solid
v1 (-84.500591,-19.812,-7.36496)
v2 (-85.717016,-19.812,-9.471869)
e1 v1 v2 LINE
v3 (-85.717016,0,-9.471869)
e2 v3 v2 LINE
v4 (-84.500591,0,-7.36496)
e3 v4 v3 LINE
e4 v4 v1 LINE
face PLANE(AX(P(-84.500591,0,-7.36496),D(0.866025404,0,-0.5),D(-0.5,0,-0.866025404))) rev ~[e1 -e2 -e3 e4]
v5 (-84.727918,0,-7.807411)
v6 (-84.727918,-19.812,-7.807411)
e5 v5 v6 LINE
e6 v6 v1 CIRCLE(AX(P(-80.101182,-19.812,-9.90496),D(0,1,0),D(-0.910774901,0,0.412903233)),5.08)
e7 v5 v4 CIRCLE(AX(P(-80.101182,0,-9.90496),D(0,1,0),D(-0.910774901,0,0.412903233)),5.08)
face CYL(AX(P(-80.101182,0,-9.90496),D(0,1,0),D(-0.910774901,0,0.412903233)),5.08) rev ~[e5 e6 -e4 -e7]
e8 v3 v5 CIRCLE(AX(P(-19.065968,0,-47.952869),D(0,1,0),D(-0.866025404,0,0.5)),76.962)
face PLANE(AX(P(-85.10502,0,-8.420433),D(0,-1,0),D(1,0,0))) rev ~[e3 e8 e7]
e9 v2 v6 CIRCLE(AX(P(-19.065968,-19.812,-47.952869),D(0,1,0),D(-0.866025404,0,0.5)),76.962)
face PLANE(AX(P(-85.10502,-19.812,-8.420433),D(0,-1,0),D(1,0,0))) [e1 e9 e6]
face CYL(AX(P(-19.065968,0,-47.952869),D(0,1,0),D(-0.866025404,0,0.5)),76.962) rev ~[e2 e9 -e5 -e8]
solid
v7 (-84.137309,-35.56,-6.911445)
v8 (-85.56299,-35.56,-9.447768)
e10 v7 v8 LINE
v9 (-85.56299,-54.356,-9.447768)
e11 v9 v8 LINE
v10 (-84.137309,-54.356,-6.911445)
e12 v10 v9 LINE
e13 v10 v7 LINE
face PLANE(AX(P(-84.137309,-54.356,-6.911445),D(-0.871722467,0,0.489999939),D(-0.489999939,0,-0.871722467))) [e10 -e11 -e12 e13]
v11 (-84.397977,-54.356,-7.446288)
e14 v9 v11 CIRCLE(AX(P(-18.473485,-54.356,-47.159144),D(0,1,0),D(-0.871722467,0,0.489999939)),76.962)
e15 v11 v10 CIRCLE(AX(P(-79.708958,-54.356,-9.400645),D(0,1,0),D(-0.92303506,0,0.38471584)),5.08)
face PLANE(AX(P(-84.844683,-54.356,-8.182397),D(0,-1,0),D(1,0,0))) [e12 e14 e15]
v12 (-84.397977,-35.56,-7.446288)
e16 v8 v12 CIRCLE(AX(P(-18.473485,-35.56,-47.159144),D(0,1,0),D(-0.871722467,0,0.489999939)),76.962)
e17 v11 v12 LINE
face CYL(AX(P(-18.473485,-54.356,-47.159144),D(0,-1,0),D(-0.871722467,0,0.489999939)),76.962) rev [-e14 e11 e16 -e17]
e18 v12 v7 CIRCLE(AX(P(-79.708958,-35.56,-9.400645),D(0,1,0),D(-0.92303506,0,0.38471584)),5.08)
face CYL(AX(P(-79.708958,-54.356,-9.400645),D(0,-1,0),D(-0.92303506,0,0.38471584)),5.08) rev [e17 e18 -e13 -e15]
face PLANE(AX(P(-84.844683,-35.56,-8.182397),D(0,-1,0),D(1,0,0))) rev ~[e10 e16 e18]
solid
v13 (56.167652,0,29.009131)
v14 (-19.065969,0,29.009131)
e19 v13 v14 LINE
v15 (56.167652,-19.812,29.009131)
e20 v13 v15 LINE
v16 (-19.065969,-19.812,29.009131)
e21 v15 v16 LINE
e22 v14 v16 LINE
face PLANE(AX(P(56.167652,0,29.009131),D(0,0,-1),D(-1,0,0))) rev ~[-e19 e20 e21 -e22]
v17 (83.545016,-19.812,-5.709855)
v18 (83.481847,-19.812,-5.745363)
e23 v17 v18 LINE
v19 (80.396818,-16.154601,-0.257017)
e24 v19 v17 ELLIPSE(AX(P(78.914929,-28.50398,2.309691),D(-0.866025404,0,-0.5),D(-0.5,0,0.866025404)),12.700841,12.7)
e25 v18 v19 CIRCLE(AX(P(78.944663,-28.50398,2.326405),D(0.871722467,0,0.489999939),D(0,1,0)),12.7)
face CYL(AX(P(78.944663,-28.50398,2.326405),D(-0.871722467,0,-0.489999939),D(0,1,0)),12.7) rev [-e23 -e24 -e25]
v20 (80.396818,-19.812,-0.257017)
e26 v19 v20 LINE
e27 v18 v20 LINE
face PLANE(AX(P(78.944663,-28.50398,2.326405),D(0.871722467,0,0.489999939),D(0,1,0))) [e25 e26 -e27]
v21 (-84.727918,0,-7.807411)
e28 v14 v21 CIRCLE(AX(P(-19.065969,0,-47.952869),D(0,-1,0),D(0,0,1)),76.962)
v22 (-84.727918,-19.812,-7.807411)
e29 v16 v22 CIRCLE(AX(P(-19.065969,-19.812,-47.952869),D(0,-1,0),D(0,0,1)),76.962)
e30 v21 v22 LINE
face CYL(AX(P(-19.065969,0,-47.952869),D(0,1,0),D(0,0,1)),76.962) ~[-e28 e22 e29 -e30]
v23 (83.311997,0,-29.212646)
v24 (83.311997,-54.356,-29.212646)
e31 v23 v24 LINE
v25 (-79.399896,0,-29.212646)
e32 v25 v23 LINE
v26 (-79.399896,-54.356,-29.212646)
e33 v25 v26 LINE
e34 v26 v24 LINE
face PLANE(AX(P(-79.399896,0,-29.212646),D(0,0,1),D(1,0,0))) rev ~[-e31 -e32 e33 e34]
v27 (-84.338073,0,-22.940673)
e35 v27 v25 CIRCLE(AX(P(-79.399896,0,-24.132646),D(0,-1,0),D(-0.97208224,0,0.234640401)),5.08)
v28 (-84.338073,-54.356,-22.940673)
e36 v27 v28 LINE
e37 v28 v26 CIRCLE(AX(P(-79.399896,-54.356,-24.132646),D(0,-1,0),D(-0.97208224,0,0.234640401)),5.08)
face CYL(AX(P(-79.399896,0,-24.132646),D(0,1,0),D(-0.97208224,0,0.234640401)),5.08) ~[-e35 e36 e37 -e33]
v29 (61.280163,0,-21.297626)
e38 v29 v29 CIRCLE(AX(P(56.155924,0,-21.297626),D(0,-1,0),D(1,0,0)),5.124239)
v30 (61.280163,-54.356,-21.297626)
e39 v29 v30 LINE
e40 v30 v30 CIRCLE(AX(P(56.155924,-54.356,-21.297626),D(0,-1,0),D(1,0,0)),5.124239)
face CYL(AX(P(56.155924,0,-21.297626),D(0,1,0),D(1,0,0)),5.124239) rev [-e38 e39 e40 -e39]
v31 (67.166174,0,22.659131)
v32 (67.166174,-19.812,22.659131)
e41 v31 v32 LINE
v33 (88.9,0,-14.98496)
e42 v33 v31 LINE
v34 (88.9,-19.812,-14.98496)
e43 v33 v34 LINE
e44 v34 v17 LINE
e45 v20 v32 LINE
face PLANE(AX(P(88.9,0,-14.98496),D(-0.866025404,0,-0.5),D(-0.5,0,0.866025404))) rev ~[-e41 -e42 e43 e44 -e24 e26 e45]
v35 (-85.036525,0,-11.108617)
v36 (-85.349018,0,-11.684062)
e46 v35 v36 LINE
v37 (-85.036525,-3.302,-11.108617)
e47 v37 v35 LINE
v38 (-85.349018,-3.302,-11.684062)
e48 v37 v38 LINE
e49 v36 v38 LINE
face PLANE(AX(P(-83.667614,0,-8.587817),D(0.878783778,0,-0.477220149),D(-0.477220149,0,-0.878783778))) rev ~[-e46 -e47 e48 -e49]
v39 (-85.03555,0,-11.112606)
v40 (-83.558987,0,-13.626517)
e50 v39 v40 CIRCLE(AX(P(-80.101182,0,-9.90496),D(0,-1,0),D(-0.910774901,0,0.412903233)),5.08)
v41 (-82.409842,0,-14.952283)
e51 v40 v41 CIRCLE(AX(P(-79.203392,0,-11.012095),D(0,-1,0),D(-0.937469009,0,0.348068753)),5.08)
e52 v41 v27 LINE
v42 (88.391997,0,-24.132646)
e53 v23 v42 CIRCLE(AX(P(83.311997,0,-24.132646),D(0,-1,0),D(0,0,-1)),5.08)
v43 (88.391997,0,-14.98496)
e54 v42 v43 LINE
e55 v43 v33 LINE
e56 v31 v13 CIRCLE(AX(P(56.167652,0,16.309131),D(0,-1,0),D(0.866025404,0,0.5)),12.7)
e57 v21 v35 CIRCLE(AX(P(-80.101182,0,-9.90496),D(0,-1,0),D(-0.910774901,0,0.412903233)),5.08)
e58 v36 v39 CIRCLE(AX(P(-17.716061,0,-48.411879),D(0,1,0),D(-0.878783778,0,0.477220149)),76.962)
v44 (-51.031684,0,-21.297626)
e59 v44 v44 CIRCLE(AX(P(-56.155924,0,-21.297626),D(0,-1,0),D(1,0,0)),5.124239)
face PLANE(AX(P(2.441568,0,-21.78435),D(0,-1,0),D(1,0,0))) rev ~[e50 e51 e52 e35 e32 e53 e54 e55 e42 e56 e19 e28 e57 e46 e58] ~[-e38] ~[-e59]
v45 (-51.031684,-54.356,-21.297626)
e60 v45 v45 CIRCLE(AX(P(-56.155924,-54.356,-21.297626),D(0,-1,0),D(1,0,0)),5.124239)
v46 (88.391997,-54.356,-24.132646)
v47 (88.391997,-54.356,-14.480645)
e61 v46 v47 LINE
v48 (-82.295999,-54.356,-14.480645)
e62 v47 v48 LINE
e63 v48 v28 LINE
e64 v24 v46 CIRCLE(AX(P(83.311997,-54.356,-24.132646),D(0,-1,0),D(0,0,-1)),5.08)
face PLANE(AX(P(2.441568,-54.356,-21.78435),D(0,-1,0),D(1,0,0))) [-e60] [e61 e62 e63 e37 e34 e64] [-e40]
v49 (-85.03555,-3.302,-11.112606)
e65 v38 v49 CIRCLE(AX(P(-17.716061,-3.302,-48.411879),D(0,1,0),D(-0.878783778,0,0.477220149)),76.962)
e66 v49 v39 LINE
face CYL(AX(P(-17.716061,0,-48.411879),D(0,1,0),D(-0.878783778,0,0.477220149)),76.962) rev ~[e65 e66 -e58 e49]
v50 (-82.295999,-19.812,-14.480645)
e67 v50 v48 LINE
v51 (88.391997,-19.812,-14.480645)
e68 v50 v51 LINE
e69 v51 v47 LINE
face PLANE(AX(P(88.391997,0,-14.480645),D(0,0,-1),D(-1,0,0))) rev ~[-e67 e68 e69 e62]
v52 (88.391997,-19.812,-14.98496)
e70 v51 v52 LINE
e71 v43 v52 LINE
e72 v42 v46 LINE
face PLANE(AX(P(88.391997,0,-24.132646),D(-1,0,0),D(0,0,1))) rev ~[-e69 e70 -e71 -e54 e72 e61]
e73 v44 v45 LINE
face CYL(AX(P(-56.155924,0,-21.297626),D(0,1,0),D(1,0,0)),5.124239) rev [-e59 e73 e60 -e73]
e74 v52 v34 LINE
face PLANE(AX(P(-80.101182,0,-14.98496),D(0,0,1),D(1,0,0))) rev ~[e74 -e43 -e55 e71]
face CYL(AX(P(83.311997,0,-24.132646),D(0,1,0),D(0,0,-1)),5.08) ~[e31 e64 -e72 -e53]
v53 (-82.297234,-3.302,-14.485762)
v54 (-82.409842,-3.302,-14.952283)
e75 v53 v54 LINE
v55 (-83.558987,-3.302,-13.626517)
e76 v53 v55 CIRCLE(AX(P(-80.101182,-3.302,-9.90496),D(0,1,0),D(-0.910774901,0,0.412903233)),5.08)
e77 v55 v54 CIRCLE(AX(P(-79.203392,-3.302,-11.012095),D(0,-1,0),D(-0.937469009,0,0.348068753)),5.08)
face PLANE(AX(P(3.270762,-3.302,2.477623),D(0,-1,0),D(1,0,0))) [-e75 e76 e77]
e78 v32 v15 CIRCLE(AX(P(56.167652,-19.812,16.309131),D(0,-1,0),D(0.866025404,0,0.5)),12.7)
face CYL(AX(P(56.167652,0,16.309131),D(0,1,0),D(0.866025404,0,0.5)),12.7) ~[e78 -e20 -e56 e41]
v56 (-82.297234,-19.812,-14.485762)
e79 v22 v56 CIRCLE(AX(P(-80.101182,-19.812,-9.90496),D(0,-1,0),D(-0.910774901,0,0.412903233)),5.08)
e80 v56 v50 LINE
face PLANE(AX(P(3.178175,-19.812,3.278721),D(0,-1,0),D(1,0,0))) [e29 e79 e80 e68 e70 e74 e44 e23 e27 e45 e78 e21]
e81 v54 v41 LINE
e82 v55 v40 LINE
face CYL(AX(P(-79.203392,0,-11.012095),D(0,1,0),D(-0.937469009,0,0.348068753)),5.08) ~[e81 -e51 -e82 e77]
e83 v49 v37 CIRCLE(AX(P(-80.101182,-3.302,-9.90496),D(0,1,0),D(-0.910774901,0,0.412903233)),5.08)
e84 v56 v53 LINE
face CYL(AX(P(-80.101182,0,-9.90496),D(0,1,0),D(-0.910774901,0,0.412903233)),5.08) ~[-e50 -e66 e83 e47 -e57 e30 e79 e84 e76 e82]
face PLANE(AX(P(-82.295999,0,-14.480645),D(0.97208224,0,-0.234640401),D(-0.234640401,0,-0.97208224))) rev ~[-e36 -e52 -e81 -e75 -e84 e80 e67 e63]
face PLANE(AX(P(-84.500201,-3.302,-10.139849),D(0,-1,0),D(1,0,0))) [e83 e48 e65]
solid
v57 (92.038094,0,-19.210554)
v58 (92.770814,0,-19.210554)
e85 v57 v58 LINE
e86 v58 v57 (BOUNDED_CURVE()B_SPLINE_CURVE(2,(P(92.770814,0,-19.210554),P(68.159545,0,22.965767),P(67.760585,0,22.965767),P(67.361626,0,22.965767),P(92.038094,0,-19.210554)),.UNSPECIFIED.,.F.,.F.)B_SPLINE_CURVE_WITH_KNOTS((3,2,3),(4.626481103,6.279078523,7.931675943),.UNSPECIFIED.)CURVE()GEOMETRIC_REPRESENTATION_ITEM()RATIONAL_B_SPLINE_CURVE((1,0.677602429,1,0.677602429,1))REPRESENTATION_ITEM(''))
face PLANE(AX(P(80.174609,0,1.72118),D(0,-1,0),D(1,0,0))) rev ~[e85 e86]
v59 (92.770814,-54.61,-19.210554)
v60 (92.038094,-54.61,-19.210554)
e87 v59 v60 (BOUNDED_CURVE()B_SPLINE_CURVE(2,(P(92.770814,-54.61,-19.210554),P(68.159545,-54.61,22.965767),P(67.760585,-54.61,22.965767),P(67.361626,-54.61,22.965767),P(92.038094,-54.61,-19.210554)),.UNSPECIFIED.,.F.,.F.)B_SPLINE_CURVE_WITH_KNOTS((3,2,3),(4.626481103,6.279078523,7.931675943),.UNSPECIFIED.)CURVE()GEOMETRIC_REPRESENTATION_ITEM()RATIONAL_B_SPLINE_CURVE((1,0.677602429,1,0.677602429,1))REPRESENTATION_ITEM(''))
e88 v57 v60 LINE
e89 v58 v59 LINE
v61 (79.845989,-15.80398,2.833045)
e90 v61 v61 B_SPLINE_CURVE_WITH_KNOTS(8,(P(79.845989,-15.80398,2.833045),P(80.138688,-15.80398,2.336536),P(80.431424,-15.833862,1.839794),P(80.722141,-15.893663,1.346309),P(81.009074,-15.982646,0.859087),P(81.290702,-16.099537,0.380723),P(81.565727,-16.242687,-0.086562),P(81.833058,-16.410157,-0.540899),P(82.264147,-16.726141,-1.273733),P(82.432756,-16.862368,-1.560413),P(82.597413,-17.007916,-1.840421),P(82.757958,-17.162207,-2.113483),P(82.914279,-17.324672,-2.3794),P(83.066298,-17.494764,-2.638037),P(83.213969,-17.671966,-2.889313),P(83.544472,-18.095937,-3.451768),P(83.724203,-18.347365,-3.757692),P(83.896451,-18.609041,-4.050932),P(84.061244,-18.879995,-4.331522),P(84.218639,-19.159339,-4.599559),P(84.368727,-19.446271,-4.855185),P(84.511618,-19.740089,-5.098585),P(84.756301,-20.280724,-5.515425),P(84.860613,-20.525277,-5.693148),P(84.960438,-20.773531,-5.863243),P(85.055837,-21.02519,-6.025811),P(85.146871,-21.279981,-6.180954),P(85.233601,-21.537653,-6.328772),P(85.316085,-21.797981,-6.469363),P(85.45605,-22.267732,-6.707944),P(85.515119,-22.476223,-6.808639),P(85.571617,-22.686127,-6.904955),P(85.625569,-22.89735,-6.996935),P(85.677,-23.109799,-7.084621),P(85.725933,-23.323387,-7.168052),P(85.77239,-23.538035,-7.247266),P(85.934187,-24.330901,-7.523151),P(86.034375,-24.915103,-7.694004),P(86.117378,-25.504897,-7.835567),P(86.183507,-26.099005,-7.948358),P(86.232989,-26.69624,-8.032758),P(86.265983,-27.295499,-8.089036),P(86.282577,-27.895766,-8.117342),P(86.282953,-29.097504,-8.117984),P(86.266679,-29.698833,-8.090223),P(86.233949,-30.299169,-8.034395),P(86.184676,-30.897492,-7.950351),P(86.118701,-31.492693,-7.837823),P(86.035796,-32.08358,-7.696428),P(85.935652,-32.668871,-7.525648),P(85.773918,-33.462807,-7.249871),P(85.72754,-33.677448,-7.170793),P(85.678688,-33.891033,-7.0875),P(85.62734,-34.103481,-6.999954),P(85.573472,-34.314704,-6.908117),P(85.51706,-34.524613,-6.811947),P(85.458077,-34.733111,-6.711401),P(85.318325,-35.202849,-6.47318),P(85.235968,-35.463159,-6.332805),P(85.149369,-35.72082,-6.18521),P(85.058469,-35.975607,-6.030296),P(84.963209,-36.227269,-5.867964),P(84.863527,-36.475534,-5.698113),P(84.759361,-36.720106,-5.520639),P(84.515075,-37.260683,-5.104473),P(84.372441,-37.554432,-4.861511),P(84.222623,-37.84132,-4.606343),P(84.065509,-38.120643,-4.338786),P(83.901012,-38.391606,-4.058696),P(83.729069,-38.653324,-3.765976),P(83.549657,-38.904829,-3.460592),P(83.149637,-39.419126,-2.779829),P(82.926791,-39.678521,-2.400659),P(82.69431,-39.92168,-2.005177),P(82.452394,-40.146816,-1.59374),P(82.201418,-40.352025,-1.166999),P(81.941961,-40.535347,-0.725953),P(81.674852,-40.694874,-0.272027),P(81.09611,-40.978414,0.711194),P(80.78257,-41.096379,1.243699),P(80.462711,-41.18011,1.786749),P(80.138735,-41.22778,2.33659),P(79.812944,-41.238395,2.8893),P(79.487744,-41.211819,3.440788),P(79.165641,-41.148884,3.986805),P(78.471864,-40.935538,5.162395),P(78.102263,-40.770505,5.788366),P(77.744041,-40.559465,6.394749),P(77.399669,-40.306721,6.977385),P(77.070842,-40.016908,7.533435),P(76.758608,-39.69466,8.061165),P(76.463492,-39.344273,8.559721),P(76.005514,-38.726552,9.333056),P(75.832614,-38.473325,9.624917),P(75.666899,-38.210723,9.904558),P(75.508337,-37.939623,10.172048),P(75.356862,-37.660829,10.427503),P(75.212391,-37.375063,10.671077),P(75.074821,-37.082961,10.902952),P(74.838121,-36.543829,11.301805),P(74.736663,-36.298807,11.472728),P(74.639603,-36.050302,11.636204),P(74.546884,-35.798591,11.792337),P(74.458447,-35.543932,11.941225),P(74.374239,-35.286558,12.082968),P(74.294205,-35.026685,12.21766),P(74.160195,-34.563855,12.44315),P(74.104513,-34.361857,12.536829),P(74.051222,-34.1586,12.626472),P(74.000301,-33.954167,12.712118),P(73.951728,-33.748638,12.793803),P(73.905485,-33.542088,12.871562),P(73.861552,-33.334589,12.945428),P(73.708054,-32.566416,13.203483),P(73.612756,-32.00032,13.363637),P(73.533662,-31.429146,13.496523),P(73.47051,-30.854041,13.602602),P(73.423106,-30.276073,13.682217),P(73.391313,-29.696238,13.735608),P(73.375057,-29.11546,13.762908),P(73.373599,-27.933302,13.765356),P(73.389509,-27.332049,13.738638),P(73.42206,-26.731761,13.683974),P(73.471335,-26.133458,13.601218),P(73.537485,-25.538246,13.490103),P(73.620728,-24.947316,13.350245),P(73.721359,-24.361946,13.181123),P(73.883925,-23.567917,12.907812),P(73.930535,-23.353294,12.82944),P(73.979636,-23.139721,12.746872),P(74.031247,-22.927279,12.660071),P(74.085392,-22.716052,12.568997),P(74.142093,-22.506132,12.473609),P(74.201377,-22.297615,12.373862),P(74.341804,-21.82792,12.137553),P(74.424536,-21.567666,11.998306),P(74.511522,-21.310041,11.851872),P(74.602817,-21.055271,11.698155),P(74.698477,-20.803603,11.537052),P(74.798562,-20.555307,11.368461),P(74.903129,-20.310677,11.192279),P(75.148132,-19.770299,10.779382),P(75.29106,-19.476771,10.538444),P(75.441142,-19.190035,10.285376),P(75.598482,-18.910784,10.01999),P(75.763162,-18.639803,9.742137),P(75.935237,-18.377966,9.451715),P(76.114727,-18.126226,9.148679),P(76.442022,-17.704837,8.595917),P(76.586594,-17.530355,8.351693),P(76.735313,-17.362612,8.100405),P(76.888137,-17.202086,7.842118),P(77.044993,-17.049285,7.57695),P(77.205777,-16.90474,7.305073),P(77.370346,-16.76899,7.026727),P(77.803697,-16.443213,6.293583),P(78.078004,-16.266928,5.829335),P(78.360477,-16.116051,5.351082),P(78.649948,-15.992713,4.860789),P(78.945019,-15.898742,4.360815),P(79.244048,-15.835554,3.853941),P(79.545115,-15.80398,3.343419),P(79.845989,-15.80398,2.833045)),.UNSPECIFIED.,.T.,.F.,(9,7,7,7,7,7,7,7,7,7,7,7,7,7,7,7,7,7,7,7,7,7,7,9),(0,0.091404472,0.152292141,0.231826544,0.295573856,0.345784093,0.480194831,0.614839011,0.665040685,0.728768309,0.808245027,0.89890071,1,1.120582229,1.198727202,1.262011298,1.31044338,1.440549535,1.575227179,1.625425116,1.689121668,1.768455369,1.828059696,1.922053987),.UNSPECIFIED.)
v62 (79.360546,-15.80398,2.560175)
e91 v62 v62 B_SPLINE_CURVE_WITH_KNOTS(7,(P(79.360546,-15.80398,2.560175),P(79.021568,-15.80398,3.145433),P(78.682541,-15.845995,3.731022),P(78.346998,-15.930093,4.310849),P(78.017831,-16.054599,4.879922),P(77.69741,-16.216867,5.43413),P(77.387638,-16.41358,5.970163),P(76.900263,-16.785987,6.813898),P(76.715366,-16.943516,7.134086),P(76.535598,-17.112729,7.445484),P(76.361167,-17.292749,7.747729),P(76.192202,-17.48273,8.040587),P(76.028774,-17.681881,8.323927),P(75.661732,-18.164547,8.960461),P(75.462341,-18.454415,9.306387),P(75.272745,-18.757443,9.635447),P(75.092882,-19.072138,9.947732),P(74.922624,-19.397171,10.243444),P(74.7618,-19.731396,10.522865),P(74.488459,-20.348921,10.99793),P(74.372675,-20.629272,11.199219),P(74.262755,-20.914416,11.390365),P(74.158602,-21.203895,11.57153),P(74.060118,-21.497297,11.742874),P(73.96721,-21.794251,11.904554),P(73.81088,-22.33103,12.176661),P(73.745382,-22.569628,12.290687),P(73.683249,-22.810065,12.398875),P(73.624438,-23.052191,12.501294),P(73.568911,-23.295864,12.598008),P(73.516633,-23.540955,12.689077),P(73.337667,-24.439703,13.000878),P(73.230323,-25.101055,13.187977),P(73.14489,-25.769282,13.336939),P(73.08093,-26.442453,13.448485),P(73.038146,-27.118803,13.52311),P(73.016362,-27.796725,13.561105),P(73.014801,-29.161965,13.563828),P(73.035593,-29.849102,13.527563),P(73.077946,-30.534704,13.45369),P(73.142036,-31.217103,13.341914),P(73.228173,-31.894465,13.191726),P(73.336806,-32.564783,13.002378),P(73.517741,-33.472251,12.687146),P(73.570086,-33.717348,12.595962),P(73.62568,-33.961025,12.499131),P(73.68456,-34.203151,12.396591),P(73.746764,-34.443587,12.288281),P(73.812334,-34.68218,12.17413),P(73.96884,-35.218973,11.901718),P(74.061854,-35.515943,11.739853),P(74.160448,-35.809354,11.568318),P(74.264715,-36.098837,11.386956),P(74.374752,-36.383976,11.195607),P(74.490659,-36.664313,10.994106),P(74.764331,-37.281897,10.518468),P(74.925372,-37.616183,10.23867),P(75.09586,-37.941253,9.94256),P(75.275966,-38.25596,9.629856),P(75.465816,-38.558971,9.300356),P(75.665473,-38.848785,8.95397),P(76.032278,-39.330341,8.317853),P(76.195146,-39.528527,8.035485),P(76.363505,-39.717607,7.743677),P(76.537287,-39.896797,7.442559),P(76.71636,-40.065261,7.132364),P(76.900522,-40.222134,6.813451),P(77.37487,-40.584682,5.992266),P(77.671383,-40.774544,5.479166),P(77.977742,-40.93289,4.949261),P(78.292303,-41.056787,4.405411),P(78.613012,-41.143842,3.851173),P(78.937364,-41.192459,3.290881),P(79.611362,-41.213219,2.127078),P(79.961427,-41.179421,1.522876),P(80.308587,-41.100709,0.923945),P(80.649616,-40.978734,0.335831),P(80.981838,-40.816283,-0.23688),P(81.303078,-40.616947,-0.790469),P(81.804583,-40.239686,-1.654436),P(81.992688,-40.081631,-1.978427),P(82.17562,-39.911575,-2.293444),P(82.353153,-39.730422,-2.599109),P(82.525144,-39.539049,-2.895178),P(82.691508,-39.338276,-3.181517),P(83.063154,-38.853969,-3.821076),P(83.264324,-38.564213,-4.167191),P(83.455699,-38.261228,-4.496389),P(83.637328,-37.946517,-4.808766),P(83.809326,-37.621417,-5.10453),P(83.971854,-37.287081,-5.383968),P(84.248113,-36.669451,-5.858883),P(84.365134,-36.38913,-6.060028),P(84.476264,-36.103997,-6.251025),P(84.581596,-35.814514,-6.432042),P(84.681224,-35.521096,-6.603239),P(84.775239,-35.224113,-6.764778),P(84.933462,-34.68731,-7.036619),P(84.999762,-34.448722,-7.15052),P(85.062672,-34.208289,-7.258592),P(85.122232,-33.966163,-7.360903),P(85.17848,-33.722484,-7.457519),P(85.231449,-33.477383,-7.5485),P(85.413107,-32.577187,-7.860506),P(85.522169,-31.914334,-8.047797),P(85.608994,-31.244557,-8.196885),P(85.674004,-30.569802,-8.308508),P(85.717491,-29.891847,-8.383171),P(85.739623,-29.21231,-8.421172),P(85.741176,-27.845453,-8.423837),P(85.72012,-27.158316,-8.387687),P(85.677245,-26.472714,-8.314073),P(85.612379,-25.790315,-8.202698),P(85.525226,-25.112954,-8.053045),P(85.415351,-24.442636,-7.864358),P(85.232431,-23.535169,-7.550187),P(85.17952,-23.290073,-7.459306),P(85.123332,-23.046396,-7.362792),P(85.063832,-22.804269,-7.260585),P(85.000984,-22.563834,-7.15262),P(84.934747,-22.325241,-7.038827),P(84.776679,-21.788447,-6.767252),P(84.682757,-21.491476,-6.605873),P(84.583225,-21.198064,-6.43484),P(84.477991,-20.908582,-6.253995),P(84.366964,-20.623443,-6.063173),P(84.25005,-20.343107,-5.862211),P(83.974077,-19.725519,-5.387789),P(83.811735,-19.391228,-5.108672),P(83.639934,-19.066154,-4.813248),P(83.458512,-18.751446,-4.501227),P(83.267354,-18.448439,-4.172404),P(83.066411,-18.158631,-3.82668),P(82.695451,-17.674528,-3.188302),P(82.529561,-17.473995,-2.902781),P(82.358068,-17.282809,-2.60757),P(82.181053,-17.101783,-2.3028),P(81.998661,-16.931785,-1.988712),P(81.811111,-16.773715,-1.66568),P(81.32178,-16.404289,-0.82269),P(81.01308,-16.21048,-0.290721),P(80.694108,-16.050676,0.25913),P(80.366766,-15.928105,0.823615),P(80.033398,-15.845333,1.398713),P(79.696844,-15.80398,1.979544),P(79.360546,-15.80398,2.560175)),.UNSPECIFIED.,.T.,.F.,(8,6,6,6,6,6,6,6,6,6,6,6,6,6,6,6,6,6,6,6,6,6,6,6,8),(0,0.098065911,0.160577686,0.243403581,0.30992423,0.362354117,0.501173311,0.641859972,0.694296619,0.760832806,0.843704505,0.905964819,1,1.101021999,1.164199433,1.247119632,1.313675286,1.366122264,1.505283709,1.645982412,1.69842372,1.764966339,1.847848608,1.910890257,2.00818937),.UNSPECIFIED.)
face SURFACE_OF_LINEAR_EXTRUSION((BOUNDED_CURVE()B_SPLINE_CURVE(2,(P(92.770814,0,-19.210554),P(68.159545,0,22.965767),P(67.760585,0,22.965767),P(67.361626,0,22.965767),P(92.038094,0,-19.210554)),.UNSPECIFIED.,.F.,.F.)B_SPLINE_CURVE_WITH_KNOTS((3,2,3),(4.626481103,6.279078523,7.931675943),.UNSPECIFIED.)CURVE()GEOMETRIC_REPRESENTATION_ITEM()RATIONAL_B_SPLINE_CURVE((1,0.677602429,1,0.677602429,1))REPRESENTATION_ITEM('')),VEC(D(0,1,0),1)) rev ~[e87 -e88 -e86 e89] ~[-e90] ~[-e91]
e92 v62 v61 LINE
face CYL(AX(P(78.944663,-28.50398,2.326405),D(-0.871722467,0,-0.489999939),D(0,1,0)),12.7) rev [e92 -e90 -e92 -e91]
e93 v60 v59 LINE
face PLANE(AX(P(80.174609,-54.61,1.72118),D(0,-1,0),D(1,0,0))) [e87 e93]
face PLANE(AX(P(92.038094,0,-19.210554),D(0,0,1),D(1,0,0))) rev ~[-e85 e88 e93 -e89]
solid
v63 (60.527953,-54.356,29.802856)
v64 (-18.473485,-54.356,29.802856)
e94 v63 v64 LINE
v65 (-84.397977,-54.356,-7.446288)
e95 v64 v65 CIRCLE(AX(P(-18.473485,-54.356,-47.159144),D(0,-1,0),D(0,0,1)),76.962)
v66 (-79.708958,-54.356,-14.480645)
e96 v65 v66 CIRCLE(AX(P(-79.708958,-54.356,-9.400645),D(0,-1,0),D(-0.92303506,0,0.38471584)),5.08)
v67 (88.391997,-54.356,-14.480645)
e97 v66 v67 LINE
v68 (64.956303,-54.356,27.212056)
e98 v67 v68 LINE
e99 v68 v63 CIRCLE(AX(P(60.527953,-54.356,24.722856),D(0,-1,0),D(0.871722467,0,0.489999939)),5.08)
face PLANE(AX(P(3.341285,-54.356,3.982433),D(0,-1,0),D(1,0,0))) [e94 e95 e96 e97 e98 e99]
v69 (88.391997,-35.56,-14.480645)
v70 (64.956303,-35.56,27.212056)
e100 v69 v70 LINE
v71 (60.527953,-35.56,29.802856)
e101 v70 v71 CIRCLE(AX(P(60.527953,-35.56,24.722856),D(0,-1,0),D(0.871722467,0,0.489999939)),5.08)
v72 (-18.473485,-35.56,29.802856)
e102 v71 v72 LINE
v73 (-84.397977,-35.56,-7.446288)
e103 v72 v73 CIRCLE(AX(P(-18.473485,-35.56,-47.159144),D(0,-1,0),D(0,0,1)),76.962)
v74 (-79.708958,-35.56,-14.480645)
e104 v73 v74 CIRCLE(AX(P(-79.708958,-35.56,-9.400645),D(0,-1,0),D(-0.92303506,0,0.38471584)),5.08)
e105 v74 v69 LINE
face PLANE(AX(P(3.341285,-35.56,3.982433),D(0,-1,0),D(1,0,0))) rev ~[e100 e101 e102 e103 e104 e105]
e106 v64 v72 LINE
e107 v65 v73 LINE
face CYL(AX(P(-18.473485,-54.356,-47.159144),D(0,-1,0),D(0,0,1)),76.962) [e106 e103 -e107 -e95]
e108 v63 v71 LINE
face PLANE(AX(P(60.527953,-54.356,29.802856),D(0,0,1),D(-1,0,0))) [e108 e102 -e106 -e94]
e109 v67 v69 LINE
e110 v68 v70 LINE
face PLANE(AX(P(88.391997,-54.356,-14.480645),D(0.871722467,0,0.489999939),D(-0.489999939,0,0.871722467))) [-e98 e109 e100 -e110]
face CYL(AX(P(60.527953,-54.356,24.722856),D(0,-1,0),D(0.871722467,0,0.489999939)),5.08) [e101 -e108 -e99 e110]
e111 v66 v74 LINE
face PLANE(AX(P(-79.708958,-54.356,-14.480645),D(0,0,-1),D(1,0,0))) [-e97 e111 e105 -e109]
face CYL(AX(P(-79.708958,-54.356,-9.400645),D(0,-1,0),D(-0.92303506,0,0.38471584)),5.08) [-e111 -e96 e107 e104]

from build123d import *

# Parameters (mm, degrees)
F1_DEPTH  = 19.812
F2_R      = 5.1242394883
F3_DEPTH  = 54.356
F5_DEPTH  = 3.302
F7_DEPTH  = 18.796
F9_DEPTH  = 54.61
F10_R     = 12.7
F11_DEPTH = 2.032


with BuildPart() as f1:
    # F0 (on Front) → F1 (new body)
    with BuildSketch(Plane.XZ):
        with BuildLine():
            ThreePointArc((-85.7170157087, -9.4718691174), (-85.2277014399, -8.6365296474), (-84.727918394, -7.8074112054))
            ThreePointArc((-84.727918394, -7.8074112054), (-84.6196735387, -7.5834012546), (-84.5005909488, -7.3649596296))
            Line((-84.5005909488, -7.3649596296), (-85.7170157087, -9.4718691174))
        make_face()
    extrude(amount=F1_DEPTH)


with BuildPart() as f1b:
    # F0 (on Front) → F1, piece 2 (new body)
    with BuildSketch(Plane.XZ):
        with BuildLine():
            Line((56.1676515813, 29.0091308826), (-19.0659685826, 29.0091308826))
            ThreePointArc((-19.0659685826, 29.0091308826), (-56.7055402604, 19.1769460761), (-84.727918394, -7.8074112054))
            ThreePointArc((-84.727918394, -7.8074112054), (-84.3709562473, -12.6573089902), (-80.1011818976, -14.9849596296))
            Line((-80.1011818976, -14.9849596296), (88.9, -14.9849596296))
            Line((88.9, -14.9849596296), (67.1661742094, 22.6591308826))
            ThreePointArc((67.1661742094, 22.6591308826), (62.5176515813, 27.3076535107), (56.1676515813, 29.0091308826))
        make_face()
    extrude(amount=F1_DEPTH)

    # F2 (on Front) → F3 (join)
    with BuildSketch(Plane.XZ):
        with BuildLine():
            Line((88.3919969201, -24.1326461864), (88.3919969201, -14.480644837))
            Line((88.3919969201, -14.480644837), (-82.2959989309, -14.480644837))
            Line((-82.2959989309, -14.480644837), (-84.338073465, -22.9406729495))
            ThreePointArc((-84.338073465, -22.9406729495), (-83.3912378163, -27.2751910116), (-79.3998956834, -29.2126461864))
            Line((-79.3998956834, -29.2126461864), (83.3119969201, -29.2126461864))
            ThreePointArc((83.3119969201, -29.2126461864), (86.9040993685, -27.7247486348), (88.3919969201, -24.1326461864))
        make_face()
        with Locations((-56.155923754, -21.2976261973)):
            Circle(F2_R, mode=Mode.SUBTRACT)
        with Locations((56.155923754, -21.2976261973)):
            Circle(F2_R, mode=Mode.SUBTRACT)
    extrude(amount=F3_DEPTH)

    # F4 (on Front) → F5 (join)
    with BuildSketch(Plane.XZ):
        with BuildLine():
            Line((-79.2033924988, -16.0920950719), (-64.6572164223, -16.0920950719))
            Line((-64.6572164223, -16.0920950719), (87.7427835777, -16.0920950719))
            Line((87.7427835777, -16.0920950719), (66.3843588363, 23.2386775878))
            ThreePointArc((66.3843588363, 23.2386775878), (62.6503484255, 27.1218714479), (57.4559156475, 28.5501208723))
            Line((57.4559156475, 28.5501208723), (-17.7160610295, 28.5501208723))
            ThreePointArc((-17.7160610295, 28.5501208723), (-55.8520275253, 18.4371859625), (-83.9657350648, -9.2439058049))
            ThreePointArc((-83.9657350648, -9.2439058049), (-83.3740520076, -13.9124397517), (-79.2033924988, -16.0920950719))
        make_face()
        with BuildLine():
            ThreePointArc((-85.3490181849, -11.6840620075), (-84.6684943252, -10.4576814707), (-83.9657350648, -9.2439058049))
            ThreePointArc((-83.9657350648, -9.2439058049), (-83.8283232848, -8.9105681925), (-83.6676140932, -8.5878167141))
            Line((-83.6676140932, -8.5878167141), (-85.3490181849, -11.6840620075))
        make_face()
    extrude(amount=F5_DEPTH)


with BuildPart() as f7:
    # F6 (on face) → F7 (new body)
    with BuildSketch(Plane.XZ.offset(54.356)):
        with BuildLine():
            ThreePointArc((-84.3979765826, -7.4462883676), (-83.9359273007, -12.2182918283), (-79.7089584774, -14.480644837))
            Line((-79.7089584774, -14.480644837), (88.3919969201, -14.480644837))
            Line((88.3919969201, -14.480644837), (64.9563029427, 27.2120561769))
            ThreePointArc((64.9563029427, 27.2120561769), (63.0932272173, 29.1075762271), (60.5279528105, 29.8028564849))
            Line((60.5279528105, 29.8028564849), (-18.4734850788, 29.8028564849))
            ThreePointArc((-18.4734850788, 29.8028564849), (-56.3335477183, 19.8465659501), (-84.3979765826, -7.4462883676))
        make_face()
    extrude(amount=-F7_DEPTH)


with BuildPart() as f7b:
    # F6 (on face) → F7, piece 2 (new body)
    with BuildSketch(Plane.XZ.offset(54.356)):
        with BuildLine():
            ThreePointArc((-85.5629895815, -9.4477681811), (-84.9880117911, -8.4426459948), (-84.3979765826, -7.4462883676))
            ThreePointArc((-84.3979765826, -7.4462883676), (-84.2754796054, -7.1750472121), (-84.1373086096, -6.911445145))
            Line((-84.1373086096, -6.911445145), (-85.5629895815, -9.4477681811))
        make_face()
    extrude(amount=-F7_DEPTH)


with BuildPart() as f9:
    # F8 (on Front) → F9 (new body)
    with BuildSketch(Plane.XZ):
        with BuildLine():
            Line((92.0380936613, -19.2105540628), (92.7708144684, -19.2105540628))
            add(Edge.make_bspline(
                [(92.7708144684, -19.2105540628), (68.1595448022, 22.9657674634), (67.7605854732, 22.9657674634), (67.3616261442, 22.9657674634), (92.0380936613, -19.2105540628)],
                knots=[4.6264811026, 4.6264811026, 4.6264811026, 6.279078523, 6.279078523, 7.9316759433, 7.9316759433, 7.9316759433], degree=2, weights=[1, 0.677602429, 1, 0.677602429, 1]))
        make_face()
    extrude(amount=F9_DEPTH)


with BuildPart() as f11_tool:
    # F10 (on face) → F11 (new body)
    with BuildSketch(Plane(origin=(60.9837637908, 0, 34.279305275), x_dir=(0, 1, 0), z_dir=(0.871722467, 0, 0.4899999394))):
        with Locations((-28.5039804876, -36.6549007595)):
            Circle(F10_R)
    extrude(amount=F11_DEPTH)


with BuildPart() as f1b_1:
    add(f1b.part)

    # F11: cut by f11_tool
    add(f11_tool.part, mode=Mode.SUBTRACT)


with BuildPart() as f9_1:
    add(f9.part)

    # F11: cut by f11_tool
    add(f11_tool.part, mode=Mode.SUBTRACT)


solid = Compound([f1.part, f7.part, f7b.part, f1b_1.part, f9_1.part])
